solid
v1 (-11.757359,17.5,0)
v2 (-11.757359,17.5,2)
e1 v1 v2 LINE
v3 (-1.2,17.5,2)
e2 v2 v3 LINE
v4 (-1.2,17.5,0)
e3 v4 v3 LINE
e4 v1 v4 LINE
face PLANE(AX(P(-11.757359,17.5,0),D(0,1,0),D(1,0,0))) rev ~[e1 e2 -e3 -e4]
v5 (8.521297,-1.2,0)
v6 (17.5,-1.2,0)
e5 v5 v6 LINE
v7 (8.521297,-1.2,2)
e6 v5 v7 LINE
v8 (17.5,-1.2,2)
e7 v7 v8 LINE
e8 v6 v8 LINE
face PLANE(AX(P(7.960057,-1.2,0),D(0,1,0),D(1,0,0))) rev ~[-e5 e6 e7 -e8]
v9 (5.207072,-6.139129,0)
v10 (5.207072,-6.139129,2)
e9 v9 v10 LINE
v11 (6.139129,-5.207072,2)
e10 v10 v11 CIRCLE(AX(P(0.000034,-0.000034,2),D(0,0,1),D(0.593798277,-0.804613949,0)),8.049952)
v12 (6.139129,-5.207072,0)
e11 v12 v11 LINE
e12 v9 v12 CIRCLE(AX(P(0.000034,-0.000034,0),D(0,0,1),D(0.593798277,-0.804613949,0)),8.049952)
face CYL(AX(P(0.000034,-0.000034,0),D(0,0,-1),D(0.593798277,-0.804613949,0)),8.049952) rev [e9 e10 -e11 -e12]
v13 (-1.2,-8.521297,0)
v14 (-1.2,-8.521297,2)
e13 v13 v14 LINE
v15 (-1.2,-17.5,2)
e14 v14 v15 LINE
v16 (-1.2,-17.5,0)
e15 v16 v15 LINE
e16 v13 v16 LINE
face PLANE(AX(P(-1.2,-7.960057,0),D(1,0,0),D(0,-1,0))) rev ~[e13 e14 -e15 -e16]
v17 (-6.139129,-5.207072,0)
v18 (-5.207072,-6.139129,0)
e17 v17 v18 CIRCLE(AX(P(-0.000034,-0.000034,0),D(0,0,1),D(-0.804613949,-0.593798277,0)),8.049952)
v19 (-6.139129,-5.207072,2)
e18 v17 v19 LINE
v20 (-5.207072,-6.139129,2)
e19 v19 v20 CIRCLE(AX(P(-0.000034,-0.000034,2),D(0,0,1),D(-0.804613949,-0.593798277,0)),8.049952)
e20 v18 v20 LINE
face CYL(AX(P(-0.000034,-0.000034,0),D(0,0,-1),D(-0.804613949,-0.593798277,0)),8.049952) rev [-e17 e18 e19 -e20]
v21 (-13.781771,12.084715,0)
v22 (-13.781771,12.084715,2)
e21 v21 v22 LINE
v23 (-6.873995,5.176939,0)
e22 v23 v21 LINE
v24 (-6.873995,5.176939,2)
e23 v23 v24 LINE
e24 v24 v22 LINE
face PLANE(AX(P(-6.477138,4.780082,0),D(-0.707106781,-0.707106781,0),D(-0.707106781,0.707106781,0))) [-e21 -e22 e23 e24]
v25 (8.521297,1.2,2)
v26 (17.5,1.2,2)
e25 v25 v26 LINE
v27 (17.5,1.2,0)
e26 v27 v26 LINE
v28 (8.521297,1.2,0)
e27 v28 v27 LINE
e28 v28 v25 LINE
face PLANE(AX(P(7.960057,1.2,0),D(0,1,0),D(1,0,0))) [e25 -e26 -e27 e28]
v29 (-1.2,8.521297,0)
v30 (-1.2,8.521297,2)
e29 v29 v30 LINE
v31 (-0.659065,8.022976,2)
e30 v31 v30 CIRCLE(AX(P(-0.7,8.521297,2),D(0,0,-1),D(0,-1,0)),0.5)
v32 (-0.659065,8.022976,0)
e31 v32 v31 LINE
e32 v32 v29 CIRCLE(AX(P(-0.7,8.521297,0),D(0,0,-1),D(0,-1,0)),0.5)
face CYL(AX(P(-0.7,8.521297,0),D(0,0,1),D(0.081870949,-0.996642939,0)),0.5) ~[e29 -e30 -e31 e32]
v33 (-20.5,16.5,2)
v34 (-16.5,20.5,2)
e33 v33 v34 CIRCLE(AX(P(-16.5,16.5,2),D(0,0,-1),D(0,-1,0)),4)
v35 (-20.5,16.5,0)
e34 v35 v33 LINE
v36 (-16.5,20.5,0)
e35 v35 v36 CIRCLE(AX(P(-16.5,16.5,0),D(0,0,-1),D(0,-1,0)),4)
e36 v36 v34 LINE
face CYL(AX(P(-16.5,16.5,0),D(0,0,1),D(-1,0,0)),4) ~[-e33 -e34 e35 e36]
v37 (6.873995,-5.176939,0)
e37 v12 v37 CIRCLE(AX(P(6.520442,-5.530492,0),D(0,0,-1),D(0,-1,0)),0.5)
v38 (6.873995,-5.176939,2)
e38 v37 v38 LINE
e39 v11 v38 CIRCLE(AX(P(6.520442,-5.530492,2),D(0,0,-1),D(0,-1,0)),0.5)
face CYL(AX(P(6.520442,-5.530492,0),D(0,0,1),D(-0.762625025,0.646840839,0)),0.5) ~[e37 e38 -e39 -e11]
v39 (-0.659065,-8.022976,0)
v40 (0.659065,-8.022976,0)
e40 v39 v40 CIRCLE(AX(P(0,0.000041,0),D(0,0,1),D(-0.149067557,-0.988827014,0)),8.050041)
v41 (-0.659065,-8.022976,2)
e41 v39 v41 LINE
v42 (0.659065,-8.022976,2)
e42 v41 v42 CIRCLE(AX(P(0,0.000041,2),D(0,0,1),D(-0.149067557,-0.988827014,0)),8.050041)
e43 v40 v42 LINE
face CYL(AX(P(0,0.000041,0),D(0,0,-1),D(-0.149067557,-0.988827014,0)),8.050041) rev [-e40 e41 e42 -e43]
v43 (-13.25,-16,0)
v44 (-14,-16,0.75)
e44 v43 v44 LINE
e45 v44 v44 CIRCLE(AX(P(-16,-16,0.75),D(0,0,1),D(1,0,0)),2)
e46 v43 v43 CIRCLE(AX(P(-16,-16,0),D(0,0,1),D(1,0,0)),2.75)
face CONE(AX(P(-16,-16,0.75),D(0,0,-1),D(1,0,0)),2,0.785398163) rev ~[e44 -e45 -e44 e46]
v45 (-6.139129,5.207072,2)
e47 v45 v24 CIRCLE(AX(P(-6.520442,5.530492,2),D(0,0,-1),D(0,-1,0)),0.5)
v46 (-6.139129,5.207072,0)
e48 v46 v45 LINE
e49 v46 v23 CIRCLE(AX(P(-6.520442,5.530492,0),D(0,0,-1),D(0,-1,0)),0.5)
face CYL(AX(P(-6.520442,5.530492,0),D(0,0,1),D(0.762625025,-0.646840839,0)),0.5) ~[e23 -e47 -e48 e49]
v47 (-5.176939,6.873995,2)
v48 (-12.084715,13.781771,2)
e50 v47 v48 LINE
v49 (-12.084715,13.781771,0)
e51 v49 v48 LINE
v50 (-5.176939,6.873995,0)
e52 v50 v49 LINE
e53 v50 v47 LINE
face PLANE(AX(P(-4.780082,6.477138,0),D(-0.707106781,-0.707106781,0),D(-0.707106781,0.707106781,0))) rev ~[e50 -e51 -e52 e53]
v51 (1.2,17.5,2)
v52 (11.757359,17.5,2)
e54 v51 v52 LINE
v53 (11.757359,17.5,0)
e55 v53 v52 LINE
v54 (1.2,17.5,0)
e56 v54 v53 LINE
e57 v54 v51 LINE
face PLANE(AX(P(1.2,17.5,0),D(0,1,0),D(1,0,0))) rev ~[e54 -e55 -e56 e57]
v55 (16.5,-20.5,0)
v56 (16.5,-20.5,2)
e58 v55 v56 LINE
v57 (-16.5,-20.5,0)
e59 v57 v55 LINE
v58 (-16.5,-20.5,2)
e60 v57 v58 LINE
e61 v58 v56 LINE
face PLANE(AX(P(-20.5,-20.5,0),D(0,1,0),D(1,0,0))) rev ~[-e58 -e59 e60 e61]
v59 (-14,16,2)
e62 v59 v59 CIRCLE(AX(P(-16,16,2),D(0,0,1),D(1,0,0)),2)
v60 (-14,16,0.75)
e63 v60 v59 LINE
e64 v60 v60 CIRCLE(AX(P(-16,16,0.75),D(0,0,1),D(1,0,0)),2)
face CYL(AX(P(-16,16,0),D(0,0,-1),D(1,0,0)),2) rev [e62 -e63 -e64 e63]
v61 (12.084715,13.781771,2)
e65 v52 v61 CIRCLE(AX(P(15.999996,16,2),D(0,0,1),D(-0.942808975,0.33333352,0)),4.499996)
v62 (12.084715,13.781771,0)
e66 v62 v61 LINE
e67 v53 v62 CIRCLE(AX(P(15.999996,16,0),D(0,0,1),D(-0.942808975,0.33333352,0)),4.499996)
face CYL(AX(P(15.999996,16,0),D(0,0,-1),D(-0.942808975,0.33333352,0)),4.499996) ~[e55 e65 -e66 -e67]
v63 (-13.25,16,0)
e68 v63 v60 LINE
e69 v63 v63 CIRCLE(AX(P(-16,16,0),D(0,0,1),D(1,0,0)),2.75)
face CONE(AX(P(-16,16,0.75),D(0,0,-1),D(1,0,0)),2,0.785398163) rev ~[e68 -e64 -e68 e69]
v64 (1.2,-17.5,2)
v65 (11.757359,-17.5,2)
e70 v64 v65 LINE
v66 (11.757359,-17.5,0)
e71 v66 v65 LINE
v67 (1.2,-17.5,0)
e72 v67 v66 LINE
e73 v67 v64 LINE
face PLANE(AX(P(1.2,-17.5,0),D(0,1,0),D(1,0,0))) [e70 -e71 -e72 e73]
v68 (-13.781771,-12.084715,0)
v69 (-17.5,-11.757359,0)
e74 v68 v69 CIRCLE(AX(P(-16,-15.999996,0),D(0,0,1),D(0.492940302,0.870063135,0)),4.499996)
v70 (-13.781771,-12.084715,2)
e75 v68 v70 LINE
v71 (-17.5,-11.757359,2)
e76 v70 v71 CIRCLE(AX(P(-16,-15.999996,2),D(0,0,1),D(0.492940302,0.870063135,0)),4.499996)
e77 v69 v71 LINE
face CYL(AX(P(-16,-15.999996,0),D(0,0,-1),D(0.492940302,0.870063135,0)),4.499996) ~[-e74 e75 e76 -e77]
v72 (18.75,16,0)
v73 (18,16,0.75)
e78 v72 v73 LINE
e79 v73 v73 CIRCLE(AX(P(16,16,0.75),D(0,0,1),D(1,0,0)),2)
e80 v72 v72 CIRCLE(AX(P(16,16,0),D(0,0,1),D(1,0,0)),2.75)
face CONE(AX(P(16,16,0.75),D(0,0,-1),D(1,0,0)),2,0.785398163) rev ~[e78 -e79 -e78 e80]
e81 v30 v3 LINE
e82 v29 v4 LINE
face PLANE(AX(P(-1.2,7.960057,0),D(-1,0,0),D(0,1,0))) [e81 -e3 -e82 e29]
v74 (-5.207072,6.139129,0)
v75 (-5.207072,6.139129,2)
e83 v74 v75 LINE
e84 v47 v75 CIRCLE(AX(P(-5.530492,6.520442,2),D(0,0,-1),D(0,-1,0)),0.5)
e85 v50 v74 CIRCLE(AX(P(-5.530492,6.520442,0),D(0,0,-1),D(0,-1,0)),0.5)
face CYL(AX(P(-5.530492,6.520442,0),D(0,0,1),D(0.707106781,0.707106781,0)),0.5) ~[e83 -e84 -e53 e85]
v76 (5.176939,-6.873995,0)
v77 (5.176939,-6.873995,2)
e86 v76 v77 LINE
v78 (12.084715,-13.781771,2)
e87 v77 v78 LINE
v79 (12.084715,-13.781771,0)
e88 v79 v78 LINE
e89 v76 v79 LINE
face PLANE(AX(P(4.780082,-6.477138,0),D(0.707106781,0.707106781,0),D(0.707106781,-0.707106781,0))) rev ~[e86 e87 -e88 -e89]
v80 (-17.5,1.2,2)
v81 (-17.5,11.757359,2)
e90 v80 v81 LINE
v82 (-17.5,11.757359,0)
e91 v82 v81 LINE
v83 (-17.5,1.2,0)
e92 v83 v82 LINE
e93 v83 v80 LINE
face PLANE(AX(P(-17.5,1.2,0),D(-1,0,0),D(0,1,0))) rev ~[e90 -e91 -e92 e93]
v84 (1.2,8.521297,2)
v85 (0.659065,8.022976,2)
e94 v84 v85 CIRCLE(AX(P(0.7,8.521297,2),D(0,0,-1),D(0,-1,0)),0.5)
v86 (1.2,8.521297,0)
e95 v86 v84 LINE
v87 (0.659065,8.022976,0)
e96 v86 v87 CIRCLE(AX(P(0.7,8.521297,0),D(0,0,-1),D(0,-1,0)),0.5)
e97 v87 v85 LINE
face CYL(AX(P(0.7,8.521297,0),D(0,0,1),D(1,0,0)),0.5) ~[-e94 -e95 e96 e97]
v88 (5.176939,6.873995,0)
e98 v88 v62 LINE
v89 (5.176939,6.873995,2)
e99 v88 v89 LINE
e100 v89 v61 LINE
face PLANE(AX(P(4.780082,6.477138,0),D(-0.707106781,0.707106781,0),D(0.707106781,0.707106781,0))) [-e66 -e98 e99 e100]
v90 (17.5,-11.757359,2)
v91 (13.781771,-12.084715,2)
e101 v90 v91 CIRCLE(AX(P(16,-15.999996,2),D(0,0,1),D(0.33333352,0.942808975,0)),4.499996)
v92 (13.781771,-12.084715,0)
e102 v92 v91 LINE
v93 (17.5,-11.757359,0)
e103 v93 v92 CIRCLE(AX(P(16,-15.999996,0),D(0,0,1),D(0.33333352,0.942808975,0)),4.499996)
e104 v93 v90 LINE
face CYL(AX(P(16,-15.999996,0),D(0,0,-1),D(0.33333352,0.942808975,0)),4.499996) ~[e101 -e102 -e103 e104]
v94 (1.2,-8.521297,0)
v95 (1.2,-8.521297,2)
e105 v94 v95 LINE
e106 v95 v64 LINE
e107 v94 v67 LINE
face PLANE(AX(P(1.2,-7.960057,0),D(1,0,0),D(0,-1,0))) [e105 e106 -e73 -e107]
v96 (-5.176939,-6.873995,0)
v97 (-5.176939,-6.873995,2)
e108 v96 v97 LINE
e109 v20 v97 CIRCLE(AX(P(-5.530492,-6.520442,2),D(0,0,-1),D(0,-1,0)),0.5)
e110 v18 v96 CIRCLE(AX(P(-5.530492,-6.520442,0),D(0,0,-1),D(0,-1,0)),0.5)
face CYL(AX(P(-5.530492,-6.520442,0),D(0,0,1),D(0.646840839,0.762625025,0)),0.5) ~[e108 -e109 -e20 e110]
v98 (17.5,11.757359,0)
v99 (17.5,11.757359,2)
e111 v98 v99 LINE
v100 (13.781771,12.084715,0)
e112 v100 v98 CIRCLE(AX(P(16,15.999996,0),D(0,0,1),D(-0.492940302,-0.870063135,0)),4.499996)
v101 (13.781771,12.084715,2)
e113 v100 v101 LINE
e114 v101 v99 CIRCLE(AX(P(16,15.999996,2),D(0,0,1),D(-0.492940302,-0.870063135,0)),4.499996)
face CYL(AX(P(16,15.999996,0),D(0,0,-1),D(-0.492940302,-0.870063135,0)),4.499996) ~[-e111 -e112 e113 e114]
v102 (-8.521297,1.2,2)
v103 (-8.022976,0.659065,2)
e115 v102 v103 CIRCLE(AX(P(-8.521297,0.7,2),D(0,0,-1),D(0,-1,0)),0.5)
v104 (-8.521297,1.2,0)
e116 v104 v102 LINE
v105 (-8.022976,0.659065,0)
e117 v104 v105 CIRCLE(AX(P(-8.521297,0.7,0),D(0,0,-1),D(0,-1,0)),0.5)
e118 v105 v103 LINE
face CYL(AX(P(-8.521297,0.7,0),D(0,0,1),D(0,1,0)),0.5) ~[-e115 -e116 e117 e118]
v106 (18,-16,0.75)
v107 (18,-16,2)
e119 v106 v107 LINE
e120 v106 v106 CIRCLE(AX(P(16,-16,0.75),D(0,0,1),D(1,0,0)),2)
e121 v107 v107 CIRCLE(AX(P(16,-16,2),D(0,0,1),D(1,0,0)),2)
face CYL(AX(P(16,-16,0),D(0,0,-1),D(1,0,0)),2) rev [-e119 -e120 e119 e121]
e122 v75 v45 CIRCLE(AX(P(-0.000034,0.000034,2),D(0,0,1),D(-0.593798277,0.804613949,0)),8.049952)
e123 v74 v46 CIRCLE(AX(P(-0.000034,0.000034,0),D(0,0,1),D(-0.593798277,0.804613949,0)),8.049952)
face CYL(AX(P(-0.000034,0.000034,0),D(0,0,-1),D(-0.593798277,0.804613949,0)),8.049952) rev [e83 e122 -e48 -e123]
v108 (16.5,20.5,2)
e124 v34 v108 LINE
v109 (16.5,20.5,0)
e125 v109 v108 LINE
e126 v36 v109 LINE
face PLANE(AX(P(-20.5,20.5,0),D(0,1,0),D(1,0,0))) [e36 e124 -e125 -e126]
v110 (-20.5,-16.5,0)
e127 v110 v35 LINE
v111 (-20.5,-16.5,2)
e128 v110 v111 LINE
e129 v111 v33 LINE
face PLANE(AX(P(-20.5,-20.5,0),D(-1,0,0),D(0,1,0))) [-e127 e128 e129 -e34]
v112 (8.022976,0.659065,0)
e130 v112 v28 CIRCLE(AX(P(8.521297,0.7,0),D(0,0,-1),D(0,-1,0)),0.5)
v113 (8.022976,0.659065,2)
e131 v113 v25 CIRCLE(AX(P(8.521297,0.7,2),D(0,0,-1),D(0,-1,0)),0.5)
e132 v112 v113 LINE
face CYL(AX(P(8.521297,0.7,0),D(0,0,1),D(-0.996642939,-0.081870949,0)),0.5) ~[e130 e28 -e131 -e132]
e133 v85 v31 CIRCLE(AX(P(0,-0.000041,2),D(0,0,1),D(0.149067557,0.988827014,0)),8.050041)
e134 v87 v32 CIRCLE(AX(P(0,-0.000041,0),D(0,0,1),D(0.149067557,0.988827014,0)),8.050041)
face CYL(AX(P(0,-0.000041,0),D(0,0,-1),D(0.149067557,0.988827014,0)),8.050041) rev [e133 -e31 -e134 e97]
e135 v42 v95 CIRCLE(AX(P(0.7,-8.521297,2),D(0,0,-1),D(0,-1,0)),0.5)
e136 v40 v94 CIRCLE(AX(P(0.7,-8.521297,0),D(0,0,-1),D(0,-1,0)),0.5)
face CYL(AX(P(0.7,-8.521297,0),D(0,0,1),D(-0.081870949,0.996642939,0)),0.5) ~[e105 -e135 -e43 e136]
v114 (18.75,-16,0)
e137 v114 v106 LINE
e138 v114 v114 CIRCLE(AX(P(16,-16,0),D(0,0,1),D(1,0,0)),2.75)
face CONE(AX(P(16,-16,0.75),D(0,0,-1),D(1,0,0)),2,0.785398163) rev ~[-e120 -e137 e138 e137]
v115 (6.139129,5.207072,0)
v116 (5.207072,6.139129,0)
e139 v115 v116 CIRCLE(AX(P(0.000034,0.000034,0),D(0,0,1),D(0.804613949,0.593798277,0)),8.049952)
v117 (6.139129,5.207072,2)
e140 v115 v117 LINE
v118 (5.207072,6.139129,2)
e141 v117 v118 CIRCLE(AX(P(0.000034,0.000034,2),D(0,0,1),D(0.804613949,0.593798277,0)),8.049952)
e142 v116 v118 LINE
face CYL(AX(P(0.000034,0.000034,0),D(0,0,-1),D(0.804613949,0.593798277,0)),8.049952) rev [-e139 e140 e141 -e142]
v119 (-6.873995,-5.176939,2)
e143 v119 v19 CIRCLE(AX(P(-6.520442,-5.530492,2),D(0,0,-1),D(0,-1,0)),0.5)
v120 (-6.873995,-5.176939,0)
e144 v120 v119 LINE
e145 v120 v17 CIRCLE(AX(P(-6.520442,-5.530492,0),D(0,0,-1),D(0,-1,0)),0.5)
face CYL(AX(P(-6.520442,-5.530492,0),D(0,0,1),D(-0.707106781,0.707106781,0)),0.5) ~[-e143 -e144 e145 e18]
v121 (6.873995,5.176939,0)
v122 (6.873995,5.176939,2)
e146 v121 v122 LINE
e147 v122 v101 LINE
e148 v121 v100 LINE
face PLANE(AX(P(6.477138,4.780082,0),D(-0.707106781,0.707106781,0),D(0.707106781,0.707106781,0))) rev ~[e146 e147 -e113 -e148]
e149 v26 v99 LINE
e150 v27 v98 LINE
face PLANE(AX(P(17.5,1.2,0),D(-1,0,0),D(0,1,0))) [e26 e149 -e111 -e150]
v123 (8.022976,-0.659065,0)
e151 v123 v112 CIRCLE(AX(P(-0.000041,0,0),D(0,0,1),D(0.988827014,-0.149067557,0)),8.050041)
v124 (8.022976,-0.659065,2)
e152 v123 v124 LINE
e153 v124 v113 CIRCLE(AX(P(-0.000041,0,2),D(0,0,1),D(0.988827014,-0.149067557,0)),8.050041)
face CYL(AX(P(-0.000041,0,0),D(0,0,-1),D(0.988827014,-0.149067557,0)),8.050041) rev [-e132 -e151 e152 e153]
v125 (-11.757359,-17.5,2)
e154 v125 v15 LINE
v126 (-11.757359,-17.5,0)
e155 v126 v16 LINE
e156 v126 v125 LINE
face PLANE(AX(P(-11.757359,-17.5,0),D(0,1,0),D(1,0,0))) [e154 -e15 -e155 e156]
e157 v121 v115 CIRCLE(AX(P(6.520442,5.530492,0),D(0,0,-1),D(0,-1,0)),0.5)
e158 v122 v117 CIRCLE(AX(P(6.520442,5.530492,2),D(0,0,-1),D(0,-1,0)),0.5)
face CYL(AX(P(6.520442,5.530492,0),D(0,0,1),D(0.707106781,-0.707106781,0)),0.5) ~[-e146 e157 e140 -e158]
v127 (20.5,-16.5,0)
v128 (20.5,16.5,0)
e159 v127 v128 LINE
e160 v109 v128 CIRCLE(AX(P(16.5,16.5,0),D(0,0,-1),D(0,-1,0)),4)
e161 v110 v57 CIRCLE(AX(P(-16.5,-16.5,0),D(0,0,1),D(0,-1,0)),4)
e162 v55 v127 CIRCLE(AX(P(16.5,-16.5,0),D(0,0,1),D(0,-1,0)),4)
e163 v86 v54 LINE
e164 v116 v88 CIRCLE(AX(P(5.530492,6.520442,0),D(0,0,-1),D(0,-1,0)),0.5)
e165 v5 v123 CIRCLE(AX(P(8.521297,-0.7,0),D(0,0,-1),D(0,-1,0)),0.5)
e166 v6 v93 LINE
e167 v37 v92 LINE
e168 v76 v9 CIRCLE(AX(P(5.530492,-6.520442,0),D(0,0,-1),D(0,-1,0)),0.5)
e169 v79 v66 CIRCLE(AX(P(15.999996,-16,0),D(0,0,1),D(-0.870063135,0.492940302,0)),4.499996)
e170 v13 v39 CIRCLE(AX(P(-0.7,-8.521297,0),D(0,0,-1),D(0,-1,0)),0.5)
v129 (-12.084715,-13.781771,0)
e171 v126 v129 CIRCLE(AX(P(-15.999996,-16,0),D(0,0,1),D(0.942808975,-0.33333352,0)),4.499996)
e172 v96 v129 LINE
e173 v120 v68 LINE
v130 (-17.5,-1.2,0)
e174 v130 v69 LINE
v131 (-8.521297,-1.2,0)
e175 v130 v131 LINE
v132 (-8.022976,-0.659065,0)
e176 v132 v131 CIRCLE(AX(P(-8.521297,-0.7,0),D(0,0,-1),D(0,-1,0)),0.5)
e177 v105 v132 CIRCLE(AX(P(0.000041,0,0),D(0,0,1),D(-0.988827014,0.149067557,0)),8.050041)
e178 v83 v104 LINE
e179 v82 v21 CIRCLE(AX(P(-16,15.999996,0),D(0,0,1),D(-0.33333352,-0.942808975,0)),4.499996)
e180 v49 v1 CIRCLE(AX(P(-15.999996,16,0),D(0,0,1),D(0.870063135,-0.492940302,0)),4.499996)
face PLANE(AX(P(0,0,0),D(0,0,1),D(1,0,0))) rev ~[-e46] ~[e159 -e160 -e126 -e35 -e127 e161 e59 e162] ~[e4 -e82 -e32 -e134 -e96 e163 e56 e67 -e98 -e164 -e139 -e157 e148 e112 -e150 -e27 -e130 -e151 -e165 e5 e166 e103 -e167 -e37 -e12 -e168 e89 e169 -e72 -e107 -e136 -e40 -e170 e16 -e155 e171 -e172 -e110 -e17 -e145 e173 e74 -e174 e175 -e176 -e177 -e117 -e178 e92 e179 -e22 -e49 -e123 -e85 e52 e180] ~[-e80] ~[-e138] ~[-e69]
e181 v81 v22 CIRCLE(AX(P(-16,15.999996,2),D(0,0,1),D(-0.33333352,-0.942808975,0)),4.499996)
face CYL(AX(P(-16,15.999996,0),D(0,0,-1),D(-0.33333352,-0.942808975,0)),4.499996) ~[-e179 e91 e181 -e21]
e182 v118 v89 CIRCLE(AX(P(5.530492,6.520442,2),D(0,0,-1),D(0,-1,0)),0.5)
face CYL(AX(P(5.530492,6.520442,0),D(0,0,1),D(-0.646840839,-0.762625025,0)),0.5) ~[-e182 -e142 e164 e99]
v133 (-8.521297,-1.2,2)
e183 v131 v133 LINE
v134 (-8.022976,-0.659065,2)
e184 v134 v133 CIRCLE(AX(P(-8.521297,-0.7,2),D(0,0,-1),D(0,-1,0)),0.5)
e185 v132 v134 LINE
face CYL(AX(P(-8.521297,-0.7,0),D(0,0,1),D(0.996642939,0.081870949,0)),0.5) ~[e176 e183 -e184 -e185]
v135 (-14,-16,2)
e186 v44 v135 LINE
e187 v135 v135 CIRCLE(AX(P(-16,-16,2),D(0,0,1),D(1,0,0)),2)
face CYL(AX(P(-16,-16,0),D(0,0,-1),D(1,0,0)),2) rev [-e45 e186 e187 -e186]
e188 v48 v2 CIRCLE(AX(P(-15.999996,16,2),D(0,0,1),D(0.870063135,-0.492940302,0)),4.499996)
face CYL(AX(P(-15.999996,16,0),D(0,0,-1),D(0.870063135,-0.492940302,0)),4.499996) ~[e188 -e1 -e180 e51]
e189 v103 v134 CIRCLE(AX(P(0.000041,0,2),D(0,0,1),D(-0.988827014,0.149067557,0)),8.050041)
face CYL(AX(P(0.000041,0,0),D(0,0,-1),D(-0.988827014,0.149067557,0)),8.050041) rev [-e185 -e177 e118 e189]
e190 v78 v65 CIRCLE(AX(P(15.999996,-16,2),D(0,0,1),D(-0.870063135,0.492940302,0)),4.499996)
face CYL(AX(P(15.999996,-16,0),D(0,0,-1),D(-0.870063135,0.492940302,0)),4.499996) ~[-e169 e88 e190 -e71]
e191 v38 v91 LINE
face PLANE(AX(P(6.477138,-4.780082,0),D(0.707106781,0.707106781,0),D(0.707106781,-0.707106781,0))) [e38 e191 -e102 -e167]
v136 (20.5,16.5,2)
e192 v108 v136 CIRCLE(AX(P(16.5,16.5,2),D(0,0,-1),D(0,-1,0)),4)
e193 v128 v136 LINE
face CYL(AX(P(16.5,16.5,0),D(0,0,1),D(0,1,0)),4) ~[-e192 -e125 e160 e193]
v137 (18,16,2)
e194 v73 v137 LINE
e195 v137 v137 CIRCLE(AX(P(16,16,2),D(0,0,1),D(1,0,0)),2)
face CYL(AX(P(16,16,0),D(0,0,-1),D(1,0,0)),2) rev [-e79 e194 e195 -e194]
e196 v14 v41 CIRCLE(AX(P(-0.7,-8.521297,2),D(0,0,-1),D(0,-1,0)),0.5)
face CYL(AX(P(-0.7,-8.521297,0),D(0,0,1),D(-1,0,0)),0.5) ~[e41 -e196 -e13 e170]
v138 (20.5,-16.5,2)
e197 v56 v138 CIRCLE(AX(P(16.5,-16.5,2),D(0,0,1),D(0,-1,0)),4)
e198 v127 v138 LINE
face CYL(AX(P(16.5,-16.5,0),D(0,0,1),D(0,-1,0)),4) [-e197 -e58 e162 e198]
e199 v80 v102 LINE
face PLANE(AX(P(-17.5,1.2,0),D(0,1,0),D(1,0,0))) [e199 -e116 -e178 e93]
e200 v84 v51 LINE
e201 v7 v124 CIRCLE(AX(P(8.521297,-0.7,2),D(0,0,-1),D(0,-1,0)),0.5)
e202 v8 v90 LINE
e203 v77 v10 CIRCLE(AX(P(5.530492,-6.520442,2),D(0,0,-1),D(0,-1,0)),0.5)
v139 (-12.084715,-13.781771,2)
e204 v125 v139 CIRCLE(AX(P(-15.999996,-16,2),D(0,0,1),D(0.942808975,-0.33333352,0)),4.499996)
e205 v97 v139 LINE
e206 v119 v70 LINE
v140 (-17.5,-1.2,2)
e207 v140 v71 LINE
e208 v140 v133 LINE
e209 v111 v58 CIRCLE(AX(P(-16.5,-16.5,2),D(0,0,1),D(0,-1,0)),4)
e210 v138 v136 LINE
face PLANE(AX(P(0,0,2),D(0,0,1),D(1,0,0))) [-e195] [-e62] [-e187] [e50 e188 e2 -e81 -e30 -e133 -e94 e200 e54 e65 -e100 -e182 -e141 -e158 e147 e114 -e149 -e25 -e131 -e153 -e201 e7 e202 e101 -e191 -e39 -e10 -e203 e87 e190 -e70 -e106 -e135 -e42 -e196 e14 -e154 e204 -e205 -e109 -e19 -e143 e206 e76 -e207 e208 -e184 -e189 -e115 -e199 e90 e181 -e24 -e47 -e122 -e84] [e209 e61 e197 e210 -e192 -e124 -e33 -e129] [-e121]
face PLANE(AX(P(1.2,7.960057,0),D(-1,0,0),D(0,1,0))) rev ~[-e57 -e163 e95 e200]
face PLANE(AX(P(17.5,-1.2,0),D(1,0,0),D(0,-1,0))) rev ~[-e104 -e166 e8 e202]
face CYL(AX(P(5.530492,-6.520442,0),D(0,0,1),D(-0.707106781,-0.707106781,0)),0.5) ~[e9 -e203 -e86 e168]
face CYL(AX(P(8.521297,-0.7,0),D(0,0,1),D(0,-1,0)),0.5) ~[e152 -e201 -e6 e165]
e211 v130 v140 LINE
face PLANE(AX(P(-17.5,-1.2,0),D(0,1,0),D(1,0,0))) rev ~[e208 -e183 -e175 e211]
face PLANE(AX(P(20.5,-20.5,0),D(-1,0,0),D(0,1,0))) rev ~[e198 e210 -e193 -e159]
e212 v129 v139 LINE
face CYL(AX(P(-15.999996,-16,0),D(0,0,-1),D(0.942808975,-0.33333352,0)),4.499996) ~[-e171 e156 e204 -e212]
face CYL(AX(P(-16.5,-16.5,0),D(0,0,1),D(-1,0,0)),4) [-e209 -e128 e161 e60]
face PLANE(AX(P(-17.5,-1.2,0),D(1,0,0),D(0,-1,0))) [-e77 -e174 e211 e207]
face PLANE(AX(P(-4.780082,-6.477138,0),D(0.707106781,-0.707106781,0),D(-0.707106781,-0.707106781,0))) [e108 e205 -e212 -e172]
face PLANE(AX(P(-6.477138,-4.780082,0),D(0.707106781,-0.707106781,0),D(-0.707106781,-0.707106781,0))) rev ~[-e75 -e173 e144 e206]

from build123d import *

# Parameters (mm, degrees)
SKETCH_W     = 41
SKETCH_H     = 41
SKETCH_R     = 2
PAD_DEPTH    = 2
FILLET_R     = 0.5
FILLET001_R  = 4
CHAMFER_SIZE = 0.75


with BuildPart() as part:
    # Sketch → Pad (new body)
    with BuildSketch(Plane.XY):
        Rectangle(SKETCH_W, SKETCH_H)
        with Locations((-16, 16)):
            Circle(SKETCH_R, mode=Mode.SUBTRACT)
        with Locations((16, 16)):
            Circle(SKETCH_R, mode=Mode.SUBTRACT)
        with Locations((-16, -16)):
            Circle(SKETCH_R, mode=Mode.SUBTRACT)
        with Locations((16, -16)):
            Circle(SKETCH_R, mode=Mode.SUBTRACT)
        with BuildLine():
            Line((-17.5, 1.2), (-7.960057, 1.2))
            ThreePointArc((-7.960057, 1.2), (-8.05, 0), (-7.960057, -1.2))
            Line((-17.5, -1.2), (-7.960057, -1.2))
            Line((-17.5, -1.2), (-17.5, -11.757359))
            ThreePointArc((-13.781771, -12.084715), (-15.605344, -11.517339), (-17.5, -11.757359))
            Line((-6.477138, -4.780082), (-13.781771, -12.084715))
            ThreePointArc((-6.477138, -4.780082), (-5.69221, -5.69221), (-4.780082, -6.477138))
            Line((-4.780082, -6.477138), (-12.084715, -13.781771))
            ThreePointArc((-11.757359, -17.5), (-11.517339, -15.605344), (-12.084715, -13.781771))
            Line((-11.757359, -17.5), (-1.2, -17.5))
            Line((-1.2, -7.960057), (-1.2, -17.5))
            ThreePointArc((-1.2, -7.960057), (0, -8.05), (1.2, -7.960057))
            Line((1.2, -7.960057), (1.2, -17.5))
            Line((1.2, -17.5), (11.757359, -17.5))
            ThreePointArc((12.084715, -13.781771), (11.517339, -15.605344), (11.757359, -17.5))
            Line((4.780082, -6.477138), (12.084715, -13.781771))
            ThreePointArc((4.780082, -6.477138), (5.69221, -5.69221), (6.477138, -4.780082))
            Line((6.477138, -4.780082), (13.781771, -12.084715))
            ThreePointArc((17.5, -11.757359), (15.605344, -11.517339), (13.781771, -12.084715))
            Line((17.5, -1.2), (17.5, -11.757359))
            Line((7.960057, -1.2), (17.5, -1.2))
            ThreePointArc((7.960057, -1.2), (8.05, 0), (7.960057, 1.2))
            Line((7.960057, 1.2), (17.5, 1.2))
            Line((17.5, 1.2), (17.5, 11.757359))
            ThreePointArc((13.781771, 12.084715), (15.605344, 11.517339), (17.5, 11.757359))
            Line((6.477138, 4.780082), (13.781771, 12.084715))
            ThreePointArc((6.477138, 4.780082), (5.69221, 5.69221), (4.780082, 6.477138))
            Line((4.780082, 6.477138), (12.084715, 13.781771))
            ThreePointArc((11.757359, 17.5), (11.517339, 15.605344), (12.084715, 13.781771))
            Line((1.2, 17.5), (11.757359, 17.5))
            Line((1.2, 7.960057), (1.2, 17.5))
            ThreePointArc((1.2, 7.960057), (0, 8.05), (-1.2, 7.960057))
            Line((-1.2, 7.960057), (-1.2, 17.5))
            Line((-11.757359, 17.5), (-1.2, 17.5))
            ThreePointArc((-12.084715, 13.781771), (-11.517339, 15.605344), (-11.757359, 17.5))
            Line((-4.780082, 6.477138), (-12.084715, 13.781771))
            ThreePointArc((-4.780082, 6.477138), (-5.69221, 5.69221), (-6.477138, 4.780082))
            Line((-6.477138, 4.780082), (-13.781771, 12.084715))
            ThreePointArc((-17.5, 11.757359), (-15.605344, 11.517339), (-13.781771, 12.084715))
            Line((-17.5, 1.2), (-17.5, 11.757359))
        make_face(mode=Mode.SUBTRACT)
    extrude(amount=PAD_DEPTH)

    # Fillet
    fillet_edges = [part.edges().sort_by_distance(p)[0] for p in [
        (-4.780082, -6.477138, 1),
        (-7.960057, -1.2, 1),
        (-7.960057, 1.2, 1),
        (-6.477138, 4.780082, 1),
        (-4.780082, 6.477138, 1),
        (-1.2, 7.960057, 1),
        (1.2, 7.960057, 1),
        (4.780082, 6.477138, 1),
        (6.477138, 4.780082, 1),
        (7.960057, 1.2, 1),
        (7.960057, -1.2, 1),
        (4.780082, -6.477138, 1),
        (-6.477138, -4.780082, 1),
        (-1.2, -7.960057, 1),
        (1.2, -7.960057, 1),
        (6.477138, -4.780082, 1),
    ]]
    fillet(fillet_edges, radius=FILLET_R)

    # Fillet001
    fillet001_edges = [part.edges().sort_by_distance(p)[0] for p in [
        (20.5, -20.5, 1),
        (20.5, 20.5, 1),
        (-20.5, 20.5, 1),
        (-20.5, -20.5, 1),
    ]]
    fillet(fillet001_edges, radius=FILLET001_R)

    # Chamfer
    chamfer_edges = [part.edges().sort_by_distance(p)[0] for p in [
        (14, -16, 0),
        (-18, -16, 0),
        (-18, 16, 0),
        (14, 16, 0),
    ]]
    chamfer(chamfer_edges, length=CHAMFER_SIZE)


solid = part.part
